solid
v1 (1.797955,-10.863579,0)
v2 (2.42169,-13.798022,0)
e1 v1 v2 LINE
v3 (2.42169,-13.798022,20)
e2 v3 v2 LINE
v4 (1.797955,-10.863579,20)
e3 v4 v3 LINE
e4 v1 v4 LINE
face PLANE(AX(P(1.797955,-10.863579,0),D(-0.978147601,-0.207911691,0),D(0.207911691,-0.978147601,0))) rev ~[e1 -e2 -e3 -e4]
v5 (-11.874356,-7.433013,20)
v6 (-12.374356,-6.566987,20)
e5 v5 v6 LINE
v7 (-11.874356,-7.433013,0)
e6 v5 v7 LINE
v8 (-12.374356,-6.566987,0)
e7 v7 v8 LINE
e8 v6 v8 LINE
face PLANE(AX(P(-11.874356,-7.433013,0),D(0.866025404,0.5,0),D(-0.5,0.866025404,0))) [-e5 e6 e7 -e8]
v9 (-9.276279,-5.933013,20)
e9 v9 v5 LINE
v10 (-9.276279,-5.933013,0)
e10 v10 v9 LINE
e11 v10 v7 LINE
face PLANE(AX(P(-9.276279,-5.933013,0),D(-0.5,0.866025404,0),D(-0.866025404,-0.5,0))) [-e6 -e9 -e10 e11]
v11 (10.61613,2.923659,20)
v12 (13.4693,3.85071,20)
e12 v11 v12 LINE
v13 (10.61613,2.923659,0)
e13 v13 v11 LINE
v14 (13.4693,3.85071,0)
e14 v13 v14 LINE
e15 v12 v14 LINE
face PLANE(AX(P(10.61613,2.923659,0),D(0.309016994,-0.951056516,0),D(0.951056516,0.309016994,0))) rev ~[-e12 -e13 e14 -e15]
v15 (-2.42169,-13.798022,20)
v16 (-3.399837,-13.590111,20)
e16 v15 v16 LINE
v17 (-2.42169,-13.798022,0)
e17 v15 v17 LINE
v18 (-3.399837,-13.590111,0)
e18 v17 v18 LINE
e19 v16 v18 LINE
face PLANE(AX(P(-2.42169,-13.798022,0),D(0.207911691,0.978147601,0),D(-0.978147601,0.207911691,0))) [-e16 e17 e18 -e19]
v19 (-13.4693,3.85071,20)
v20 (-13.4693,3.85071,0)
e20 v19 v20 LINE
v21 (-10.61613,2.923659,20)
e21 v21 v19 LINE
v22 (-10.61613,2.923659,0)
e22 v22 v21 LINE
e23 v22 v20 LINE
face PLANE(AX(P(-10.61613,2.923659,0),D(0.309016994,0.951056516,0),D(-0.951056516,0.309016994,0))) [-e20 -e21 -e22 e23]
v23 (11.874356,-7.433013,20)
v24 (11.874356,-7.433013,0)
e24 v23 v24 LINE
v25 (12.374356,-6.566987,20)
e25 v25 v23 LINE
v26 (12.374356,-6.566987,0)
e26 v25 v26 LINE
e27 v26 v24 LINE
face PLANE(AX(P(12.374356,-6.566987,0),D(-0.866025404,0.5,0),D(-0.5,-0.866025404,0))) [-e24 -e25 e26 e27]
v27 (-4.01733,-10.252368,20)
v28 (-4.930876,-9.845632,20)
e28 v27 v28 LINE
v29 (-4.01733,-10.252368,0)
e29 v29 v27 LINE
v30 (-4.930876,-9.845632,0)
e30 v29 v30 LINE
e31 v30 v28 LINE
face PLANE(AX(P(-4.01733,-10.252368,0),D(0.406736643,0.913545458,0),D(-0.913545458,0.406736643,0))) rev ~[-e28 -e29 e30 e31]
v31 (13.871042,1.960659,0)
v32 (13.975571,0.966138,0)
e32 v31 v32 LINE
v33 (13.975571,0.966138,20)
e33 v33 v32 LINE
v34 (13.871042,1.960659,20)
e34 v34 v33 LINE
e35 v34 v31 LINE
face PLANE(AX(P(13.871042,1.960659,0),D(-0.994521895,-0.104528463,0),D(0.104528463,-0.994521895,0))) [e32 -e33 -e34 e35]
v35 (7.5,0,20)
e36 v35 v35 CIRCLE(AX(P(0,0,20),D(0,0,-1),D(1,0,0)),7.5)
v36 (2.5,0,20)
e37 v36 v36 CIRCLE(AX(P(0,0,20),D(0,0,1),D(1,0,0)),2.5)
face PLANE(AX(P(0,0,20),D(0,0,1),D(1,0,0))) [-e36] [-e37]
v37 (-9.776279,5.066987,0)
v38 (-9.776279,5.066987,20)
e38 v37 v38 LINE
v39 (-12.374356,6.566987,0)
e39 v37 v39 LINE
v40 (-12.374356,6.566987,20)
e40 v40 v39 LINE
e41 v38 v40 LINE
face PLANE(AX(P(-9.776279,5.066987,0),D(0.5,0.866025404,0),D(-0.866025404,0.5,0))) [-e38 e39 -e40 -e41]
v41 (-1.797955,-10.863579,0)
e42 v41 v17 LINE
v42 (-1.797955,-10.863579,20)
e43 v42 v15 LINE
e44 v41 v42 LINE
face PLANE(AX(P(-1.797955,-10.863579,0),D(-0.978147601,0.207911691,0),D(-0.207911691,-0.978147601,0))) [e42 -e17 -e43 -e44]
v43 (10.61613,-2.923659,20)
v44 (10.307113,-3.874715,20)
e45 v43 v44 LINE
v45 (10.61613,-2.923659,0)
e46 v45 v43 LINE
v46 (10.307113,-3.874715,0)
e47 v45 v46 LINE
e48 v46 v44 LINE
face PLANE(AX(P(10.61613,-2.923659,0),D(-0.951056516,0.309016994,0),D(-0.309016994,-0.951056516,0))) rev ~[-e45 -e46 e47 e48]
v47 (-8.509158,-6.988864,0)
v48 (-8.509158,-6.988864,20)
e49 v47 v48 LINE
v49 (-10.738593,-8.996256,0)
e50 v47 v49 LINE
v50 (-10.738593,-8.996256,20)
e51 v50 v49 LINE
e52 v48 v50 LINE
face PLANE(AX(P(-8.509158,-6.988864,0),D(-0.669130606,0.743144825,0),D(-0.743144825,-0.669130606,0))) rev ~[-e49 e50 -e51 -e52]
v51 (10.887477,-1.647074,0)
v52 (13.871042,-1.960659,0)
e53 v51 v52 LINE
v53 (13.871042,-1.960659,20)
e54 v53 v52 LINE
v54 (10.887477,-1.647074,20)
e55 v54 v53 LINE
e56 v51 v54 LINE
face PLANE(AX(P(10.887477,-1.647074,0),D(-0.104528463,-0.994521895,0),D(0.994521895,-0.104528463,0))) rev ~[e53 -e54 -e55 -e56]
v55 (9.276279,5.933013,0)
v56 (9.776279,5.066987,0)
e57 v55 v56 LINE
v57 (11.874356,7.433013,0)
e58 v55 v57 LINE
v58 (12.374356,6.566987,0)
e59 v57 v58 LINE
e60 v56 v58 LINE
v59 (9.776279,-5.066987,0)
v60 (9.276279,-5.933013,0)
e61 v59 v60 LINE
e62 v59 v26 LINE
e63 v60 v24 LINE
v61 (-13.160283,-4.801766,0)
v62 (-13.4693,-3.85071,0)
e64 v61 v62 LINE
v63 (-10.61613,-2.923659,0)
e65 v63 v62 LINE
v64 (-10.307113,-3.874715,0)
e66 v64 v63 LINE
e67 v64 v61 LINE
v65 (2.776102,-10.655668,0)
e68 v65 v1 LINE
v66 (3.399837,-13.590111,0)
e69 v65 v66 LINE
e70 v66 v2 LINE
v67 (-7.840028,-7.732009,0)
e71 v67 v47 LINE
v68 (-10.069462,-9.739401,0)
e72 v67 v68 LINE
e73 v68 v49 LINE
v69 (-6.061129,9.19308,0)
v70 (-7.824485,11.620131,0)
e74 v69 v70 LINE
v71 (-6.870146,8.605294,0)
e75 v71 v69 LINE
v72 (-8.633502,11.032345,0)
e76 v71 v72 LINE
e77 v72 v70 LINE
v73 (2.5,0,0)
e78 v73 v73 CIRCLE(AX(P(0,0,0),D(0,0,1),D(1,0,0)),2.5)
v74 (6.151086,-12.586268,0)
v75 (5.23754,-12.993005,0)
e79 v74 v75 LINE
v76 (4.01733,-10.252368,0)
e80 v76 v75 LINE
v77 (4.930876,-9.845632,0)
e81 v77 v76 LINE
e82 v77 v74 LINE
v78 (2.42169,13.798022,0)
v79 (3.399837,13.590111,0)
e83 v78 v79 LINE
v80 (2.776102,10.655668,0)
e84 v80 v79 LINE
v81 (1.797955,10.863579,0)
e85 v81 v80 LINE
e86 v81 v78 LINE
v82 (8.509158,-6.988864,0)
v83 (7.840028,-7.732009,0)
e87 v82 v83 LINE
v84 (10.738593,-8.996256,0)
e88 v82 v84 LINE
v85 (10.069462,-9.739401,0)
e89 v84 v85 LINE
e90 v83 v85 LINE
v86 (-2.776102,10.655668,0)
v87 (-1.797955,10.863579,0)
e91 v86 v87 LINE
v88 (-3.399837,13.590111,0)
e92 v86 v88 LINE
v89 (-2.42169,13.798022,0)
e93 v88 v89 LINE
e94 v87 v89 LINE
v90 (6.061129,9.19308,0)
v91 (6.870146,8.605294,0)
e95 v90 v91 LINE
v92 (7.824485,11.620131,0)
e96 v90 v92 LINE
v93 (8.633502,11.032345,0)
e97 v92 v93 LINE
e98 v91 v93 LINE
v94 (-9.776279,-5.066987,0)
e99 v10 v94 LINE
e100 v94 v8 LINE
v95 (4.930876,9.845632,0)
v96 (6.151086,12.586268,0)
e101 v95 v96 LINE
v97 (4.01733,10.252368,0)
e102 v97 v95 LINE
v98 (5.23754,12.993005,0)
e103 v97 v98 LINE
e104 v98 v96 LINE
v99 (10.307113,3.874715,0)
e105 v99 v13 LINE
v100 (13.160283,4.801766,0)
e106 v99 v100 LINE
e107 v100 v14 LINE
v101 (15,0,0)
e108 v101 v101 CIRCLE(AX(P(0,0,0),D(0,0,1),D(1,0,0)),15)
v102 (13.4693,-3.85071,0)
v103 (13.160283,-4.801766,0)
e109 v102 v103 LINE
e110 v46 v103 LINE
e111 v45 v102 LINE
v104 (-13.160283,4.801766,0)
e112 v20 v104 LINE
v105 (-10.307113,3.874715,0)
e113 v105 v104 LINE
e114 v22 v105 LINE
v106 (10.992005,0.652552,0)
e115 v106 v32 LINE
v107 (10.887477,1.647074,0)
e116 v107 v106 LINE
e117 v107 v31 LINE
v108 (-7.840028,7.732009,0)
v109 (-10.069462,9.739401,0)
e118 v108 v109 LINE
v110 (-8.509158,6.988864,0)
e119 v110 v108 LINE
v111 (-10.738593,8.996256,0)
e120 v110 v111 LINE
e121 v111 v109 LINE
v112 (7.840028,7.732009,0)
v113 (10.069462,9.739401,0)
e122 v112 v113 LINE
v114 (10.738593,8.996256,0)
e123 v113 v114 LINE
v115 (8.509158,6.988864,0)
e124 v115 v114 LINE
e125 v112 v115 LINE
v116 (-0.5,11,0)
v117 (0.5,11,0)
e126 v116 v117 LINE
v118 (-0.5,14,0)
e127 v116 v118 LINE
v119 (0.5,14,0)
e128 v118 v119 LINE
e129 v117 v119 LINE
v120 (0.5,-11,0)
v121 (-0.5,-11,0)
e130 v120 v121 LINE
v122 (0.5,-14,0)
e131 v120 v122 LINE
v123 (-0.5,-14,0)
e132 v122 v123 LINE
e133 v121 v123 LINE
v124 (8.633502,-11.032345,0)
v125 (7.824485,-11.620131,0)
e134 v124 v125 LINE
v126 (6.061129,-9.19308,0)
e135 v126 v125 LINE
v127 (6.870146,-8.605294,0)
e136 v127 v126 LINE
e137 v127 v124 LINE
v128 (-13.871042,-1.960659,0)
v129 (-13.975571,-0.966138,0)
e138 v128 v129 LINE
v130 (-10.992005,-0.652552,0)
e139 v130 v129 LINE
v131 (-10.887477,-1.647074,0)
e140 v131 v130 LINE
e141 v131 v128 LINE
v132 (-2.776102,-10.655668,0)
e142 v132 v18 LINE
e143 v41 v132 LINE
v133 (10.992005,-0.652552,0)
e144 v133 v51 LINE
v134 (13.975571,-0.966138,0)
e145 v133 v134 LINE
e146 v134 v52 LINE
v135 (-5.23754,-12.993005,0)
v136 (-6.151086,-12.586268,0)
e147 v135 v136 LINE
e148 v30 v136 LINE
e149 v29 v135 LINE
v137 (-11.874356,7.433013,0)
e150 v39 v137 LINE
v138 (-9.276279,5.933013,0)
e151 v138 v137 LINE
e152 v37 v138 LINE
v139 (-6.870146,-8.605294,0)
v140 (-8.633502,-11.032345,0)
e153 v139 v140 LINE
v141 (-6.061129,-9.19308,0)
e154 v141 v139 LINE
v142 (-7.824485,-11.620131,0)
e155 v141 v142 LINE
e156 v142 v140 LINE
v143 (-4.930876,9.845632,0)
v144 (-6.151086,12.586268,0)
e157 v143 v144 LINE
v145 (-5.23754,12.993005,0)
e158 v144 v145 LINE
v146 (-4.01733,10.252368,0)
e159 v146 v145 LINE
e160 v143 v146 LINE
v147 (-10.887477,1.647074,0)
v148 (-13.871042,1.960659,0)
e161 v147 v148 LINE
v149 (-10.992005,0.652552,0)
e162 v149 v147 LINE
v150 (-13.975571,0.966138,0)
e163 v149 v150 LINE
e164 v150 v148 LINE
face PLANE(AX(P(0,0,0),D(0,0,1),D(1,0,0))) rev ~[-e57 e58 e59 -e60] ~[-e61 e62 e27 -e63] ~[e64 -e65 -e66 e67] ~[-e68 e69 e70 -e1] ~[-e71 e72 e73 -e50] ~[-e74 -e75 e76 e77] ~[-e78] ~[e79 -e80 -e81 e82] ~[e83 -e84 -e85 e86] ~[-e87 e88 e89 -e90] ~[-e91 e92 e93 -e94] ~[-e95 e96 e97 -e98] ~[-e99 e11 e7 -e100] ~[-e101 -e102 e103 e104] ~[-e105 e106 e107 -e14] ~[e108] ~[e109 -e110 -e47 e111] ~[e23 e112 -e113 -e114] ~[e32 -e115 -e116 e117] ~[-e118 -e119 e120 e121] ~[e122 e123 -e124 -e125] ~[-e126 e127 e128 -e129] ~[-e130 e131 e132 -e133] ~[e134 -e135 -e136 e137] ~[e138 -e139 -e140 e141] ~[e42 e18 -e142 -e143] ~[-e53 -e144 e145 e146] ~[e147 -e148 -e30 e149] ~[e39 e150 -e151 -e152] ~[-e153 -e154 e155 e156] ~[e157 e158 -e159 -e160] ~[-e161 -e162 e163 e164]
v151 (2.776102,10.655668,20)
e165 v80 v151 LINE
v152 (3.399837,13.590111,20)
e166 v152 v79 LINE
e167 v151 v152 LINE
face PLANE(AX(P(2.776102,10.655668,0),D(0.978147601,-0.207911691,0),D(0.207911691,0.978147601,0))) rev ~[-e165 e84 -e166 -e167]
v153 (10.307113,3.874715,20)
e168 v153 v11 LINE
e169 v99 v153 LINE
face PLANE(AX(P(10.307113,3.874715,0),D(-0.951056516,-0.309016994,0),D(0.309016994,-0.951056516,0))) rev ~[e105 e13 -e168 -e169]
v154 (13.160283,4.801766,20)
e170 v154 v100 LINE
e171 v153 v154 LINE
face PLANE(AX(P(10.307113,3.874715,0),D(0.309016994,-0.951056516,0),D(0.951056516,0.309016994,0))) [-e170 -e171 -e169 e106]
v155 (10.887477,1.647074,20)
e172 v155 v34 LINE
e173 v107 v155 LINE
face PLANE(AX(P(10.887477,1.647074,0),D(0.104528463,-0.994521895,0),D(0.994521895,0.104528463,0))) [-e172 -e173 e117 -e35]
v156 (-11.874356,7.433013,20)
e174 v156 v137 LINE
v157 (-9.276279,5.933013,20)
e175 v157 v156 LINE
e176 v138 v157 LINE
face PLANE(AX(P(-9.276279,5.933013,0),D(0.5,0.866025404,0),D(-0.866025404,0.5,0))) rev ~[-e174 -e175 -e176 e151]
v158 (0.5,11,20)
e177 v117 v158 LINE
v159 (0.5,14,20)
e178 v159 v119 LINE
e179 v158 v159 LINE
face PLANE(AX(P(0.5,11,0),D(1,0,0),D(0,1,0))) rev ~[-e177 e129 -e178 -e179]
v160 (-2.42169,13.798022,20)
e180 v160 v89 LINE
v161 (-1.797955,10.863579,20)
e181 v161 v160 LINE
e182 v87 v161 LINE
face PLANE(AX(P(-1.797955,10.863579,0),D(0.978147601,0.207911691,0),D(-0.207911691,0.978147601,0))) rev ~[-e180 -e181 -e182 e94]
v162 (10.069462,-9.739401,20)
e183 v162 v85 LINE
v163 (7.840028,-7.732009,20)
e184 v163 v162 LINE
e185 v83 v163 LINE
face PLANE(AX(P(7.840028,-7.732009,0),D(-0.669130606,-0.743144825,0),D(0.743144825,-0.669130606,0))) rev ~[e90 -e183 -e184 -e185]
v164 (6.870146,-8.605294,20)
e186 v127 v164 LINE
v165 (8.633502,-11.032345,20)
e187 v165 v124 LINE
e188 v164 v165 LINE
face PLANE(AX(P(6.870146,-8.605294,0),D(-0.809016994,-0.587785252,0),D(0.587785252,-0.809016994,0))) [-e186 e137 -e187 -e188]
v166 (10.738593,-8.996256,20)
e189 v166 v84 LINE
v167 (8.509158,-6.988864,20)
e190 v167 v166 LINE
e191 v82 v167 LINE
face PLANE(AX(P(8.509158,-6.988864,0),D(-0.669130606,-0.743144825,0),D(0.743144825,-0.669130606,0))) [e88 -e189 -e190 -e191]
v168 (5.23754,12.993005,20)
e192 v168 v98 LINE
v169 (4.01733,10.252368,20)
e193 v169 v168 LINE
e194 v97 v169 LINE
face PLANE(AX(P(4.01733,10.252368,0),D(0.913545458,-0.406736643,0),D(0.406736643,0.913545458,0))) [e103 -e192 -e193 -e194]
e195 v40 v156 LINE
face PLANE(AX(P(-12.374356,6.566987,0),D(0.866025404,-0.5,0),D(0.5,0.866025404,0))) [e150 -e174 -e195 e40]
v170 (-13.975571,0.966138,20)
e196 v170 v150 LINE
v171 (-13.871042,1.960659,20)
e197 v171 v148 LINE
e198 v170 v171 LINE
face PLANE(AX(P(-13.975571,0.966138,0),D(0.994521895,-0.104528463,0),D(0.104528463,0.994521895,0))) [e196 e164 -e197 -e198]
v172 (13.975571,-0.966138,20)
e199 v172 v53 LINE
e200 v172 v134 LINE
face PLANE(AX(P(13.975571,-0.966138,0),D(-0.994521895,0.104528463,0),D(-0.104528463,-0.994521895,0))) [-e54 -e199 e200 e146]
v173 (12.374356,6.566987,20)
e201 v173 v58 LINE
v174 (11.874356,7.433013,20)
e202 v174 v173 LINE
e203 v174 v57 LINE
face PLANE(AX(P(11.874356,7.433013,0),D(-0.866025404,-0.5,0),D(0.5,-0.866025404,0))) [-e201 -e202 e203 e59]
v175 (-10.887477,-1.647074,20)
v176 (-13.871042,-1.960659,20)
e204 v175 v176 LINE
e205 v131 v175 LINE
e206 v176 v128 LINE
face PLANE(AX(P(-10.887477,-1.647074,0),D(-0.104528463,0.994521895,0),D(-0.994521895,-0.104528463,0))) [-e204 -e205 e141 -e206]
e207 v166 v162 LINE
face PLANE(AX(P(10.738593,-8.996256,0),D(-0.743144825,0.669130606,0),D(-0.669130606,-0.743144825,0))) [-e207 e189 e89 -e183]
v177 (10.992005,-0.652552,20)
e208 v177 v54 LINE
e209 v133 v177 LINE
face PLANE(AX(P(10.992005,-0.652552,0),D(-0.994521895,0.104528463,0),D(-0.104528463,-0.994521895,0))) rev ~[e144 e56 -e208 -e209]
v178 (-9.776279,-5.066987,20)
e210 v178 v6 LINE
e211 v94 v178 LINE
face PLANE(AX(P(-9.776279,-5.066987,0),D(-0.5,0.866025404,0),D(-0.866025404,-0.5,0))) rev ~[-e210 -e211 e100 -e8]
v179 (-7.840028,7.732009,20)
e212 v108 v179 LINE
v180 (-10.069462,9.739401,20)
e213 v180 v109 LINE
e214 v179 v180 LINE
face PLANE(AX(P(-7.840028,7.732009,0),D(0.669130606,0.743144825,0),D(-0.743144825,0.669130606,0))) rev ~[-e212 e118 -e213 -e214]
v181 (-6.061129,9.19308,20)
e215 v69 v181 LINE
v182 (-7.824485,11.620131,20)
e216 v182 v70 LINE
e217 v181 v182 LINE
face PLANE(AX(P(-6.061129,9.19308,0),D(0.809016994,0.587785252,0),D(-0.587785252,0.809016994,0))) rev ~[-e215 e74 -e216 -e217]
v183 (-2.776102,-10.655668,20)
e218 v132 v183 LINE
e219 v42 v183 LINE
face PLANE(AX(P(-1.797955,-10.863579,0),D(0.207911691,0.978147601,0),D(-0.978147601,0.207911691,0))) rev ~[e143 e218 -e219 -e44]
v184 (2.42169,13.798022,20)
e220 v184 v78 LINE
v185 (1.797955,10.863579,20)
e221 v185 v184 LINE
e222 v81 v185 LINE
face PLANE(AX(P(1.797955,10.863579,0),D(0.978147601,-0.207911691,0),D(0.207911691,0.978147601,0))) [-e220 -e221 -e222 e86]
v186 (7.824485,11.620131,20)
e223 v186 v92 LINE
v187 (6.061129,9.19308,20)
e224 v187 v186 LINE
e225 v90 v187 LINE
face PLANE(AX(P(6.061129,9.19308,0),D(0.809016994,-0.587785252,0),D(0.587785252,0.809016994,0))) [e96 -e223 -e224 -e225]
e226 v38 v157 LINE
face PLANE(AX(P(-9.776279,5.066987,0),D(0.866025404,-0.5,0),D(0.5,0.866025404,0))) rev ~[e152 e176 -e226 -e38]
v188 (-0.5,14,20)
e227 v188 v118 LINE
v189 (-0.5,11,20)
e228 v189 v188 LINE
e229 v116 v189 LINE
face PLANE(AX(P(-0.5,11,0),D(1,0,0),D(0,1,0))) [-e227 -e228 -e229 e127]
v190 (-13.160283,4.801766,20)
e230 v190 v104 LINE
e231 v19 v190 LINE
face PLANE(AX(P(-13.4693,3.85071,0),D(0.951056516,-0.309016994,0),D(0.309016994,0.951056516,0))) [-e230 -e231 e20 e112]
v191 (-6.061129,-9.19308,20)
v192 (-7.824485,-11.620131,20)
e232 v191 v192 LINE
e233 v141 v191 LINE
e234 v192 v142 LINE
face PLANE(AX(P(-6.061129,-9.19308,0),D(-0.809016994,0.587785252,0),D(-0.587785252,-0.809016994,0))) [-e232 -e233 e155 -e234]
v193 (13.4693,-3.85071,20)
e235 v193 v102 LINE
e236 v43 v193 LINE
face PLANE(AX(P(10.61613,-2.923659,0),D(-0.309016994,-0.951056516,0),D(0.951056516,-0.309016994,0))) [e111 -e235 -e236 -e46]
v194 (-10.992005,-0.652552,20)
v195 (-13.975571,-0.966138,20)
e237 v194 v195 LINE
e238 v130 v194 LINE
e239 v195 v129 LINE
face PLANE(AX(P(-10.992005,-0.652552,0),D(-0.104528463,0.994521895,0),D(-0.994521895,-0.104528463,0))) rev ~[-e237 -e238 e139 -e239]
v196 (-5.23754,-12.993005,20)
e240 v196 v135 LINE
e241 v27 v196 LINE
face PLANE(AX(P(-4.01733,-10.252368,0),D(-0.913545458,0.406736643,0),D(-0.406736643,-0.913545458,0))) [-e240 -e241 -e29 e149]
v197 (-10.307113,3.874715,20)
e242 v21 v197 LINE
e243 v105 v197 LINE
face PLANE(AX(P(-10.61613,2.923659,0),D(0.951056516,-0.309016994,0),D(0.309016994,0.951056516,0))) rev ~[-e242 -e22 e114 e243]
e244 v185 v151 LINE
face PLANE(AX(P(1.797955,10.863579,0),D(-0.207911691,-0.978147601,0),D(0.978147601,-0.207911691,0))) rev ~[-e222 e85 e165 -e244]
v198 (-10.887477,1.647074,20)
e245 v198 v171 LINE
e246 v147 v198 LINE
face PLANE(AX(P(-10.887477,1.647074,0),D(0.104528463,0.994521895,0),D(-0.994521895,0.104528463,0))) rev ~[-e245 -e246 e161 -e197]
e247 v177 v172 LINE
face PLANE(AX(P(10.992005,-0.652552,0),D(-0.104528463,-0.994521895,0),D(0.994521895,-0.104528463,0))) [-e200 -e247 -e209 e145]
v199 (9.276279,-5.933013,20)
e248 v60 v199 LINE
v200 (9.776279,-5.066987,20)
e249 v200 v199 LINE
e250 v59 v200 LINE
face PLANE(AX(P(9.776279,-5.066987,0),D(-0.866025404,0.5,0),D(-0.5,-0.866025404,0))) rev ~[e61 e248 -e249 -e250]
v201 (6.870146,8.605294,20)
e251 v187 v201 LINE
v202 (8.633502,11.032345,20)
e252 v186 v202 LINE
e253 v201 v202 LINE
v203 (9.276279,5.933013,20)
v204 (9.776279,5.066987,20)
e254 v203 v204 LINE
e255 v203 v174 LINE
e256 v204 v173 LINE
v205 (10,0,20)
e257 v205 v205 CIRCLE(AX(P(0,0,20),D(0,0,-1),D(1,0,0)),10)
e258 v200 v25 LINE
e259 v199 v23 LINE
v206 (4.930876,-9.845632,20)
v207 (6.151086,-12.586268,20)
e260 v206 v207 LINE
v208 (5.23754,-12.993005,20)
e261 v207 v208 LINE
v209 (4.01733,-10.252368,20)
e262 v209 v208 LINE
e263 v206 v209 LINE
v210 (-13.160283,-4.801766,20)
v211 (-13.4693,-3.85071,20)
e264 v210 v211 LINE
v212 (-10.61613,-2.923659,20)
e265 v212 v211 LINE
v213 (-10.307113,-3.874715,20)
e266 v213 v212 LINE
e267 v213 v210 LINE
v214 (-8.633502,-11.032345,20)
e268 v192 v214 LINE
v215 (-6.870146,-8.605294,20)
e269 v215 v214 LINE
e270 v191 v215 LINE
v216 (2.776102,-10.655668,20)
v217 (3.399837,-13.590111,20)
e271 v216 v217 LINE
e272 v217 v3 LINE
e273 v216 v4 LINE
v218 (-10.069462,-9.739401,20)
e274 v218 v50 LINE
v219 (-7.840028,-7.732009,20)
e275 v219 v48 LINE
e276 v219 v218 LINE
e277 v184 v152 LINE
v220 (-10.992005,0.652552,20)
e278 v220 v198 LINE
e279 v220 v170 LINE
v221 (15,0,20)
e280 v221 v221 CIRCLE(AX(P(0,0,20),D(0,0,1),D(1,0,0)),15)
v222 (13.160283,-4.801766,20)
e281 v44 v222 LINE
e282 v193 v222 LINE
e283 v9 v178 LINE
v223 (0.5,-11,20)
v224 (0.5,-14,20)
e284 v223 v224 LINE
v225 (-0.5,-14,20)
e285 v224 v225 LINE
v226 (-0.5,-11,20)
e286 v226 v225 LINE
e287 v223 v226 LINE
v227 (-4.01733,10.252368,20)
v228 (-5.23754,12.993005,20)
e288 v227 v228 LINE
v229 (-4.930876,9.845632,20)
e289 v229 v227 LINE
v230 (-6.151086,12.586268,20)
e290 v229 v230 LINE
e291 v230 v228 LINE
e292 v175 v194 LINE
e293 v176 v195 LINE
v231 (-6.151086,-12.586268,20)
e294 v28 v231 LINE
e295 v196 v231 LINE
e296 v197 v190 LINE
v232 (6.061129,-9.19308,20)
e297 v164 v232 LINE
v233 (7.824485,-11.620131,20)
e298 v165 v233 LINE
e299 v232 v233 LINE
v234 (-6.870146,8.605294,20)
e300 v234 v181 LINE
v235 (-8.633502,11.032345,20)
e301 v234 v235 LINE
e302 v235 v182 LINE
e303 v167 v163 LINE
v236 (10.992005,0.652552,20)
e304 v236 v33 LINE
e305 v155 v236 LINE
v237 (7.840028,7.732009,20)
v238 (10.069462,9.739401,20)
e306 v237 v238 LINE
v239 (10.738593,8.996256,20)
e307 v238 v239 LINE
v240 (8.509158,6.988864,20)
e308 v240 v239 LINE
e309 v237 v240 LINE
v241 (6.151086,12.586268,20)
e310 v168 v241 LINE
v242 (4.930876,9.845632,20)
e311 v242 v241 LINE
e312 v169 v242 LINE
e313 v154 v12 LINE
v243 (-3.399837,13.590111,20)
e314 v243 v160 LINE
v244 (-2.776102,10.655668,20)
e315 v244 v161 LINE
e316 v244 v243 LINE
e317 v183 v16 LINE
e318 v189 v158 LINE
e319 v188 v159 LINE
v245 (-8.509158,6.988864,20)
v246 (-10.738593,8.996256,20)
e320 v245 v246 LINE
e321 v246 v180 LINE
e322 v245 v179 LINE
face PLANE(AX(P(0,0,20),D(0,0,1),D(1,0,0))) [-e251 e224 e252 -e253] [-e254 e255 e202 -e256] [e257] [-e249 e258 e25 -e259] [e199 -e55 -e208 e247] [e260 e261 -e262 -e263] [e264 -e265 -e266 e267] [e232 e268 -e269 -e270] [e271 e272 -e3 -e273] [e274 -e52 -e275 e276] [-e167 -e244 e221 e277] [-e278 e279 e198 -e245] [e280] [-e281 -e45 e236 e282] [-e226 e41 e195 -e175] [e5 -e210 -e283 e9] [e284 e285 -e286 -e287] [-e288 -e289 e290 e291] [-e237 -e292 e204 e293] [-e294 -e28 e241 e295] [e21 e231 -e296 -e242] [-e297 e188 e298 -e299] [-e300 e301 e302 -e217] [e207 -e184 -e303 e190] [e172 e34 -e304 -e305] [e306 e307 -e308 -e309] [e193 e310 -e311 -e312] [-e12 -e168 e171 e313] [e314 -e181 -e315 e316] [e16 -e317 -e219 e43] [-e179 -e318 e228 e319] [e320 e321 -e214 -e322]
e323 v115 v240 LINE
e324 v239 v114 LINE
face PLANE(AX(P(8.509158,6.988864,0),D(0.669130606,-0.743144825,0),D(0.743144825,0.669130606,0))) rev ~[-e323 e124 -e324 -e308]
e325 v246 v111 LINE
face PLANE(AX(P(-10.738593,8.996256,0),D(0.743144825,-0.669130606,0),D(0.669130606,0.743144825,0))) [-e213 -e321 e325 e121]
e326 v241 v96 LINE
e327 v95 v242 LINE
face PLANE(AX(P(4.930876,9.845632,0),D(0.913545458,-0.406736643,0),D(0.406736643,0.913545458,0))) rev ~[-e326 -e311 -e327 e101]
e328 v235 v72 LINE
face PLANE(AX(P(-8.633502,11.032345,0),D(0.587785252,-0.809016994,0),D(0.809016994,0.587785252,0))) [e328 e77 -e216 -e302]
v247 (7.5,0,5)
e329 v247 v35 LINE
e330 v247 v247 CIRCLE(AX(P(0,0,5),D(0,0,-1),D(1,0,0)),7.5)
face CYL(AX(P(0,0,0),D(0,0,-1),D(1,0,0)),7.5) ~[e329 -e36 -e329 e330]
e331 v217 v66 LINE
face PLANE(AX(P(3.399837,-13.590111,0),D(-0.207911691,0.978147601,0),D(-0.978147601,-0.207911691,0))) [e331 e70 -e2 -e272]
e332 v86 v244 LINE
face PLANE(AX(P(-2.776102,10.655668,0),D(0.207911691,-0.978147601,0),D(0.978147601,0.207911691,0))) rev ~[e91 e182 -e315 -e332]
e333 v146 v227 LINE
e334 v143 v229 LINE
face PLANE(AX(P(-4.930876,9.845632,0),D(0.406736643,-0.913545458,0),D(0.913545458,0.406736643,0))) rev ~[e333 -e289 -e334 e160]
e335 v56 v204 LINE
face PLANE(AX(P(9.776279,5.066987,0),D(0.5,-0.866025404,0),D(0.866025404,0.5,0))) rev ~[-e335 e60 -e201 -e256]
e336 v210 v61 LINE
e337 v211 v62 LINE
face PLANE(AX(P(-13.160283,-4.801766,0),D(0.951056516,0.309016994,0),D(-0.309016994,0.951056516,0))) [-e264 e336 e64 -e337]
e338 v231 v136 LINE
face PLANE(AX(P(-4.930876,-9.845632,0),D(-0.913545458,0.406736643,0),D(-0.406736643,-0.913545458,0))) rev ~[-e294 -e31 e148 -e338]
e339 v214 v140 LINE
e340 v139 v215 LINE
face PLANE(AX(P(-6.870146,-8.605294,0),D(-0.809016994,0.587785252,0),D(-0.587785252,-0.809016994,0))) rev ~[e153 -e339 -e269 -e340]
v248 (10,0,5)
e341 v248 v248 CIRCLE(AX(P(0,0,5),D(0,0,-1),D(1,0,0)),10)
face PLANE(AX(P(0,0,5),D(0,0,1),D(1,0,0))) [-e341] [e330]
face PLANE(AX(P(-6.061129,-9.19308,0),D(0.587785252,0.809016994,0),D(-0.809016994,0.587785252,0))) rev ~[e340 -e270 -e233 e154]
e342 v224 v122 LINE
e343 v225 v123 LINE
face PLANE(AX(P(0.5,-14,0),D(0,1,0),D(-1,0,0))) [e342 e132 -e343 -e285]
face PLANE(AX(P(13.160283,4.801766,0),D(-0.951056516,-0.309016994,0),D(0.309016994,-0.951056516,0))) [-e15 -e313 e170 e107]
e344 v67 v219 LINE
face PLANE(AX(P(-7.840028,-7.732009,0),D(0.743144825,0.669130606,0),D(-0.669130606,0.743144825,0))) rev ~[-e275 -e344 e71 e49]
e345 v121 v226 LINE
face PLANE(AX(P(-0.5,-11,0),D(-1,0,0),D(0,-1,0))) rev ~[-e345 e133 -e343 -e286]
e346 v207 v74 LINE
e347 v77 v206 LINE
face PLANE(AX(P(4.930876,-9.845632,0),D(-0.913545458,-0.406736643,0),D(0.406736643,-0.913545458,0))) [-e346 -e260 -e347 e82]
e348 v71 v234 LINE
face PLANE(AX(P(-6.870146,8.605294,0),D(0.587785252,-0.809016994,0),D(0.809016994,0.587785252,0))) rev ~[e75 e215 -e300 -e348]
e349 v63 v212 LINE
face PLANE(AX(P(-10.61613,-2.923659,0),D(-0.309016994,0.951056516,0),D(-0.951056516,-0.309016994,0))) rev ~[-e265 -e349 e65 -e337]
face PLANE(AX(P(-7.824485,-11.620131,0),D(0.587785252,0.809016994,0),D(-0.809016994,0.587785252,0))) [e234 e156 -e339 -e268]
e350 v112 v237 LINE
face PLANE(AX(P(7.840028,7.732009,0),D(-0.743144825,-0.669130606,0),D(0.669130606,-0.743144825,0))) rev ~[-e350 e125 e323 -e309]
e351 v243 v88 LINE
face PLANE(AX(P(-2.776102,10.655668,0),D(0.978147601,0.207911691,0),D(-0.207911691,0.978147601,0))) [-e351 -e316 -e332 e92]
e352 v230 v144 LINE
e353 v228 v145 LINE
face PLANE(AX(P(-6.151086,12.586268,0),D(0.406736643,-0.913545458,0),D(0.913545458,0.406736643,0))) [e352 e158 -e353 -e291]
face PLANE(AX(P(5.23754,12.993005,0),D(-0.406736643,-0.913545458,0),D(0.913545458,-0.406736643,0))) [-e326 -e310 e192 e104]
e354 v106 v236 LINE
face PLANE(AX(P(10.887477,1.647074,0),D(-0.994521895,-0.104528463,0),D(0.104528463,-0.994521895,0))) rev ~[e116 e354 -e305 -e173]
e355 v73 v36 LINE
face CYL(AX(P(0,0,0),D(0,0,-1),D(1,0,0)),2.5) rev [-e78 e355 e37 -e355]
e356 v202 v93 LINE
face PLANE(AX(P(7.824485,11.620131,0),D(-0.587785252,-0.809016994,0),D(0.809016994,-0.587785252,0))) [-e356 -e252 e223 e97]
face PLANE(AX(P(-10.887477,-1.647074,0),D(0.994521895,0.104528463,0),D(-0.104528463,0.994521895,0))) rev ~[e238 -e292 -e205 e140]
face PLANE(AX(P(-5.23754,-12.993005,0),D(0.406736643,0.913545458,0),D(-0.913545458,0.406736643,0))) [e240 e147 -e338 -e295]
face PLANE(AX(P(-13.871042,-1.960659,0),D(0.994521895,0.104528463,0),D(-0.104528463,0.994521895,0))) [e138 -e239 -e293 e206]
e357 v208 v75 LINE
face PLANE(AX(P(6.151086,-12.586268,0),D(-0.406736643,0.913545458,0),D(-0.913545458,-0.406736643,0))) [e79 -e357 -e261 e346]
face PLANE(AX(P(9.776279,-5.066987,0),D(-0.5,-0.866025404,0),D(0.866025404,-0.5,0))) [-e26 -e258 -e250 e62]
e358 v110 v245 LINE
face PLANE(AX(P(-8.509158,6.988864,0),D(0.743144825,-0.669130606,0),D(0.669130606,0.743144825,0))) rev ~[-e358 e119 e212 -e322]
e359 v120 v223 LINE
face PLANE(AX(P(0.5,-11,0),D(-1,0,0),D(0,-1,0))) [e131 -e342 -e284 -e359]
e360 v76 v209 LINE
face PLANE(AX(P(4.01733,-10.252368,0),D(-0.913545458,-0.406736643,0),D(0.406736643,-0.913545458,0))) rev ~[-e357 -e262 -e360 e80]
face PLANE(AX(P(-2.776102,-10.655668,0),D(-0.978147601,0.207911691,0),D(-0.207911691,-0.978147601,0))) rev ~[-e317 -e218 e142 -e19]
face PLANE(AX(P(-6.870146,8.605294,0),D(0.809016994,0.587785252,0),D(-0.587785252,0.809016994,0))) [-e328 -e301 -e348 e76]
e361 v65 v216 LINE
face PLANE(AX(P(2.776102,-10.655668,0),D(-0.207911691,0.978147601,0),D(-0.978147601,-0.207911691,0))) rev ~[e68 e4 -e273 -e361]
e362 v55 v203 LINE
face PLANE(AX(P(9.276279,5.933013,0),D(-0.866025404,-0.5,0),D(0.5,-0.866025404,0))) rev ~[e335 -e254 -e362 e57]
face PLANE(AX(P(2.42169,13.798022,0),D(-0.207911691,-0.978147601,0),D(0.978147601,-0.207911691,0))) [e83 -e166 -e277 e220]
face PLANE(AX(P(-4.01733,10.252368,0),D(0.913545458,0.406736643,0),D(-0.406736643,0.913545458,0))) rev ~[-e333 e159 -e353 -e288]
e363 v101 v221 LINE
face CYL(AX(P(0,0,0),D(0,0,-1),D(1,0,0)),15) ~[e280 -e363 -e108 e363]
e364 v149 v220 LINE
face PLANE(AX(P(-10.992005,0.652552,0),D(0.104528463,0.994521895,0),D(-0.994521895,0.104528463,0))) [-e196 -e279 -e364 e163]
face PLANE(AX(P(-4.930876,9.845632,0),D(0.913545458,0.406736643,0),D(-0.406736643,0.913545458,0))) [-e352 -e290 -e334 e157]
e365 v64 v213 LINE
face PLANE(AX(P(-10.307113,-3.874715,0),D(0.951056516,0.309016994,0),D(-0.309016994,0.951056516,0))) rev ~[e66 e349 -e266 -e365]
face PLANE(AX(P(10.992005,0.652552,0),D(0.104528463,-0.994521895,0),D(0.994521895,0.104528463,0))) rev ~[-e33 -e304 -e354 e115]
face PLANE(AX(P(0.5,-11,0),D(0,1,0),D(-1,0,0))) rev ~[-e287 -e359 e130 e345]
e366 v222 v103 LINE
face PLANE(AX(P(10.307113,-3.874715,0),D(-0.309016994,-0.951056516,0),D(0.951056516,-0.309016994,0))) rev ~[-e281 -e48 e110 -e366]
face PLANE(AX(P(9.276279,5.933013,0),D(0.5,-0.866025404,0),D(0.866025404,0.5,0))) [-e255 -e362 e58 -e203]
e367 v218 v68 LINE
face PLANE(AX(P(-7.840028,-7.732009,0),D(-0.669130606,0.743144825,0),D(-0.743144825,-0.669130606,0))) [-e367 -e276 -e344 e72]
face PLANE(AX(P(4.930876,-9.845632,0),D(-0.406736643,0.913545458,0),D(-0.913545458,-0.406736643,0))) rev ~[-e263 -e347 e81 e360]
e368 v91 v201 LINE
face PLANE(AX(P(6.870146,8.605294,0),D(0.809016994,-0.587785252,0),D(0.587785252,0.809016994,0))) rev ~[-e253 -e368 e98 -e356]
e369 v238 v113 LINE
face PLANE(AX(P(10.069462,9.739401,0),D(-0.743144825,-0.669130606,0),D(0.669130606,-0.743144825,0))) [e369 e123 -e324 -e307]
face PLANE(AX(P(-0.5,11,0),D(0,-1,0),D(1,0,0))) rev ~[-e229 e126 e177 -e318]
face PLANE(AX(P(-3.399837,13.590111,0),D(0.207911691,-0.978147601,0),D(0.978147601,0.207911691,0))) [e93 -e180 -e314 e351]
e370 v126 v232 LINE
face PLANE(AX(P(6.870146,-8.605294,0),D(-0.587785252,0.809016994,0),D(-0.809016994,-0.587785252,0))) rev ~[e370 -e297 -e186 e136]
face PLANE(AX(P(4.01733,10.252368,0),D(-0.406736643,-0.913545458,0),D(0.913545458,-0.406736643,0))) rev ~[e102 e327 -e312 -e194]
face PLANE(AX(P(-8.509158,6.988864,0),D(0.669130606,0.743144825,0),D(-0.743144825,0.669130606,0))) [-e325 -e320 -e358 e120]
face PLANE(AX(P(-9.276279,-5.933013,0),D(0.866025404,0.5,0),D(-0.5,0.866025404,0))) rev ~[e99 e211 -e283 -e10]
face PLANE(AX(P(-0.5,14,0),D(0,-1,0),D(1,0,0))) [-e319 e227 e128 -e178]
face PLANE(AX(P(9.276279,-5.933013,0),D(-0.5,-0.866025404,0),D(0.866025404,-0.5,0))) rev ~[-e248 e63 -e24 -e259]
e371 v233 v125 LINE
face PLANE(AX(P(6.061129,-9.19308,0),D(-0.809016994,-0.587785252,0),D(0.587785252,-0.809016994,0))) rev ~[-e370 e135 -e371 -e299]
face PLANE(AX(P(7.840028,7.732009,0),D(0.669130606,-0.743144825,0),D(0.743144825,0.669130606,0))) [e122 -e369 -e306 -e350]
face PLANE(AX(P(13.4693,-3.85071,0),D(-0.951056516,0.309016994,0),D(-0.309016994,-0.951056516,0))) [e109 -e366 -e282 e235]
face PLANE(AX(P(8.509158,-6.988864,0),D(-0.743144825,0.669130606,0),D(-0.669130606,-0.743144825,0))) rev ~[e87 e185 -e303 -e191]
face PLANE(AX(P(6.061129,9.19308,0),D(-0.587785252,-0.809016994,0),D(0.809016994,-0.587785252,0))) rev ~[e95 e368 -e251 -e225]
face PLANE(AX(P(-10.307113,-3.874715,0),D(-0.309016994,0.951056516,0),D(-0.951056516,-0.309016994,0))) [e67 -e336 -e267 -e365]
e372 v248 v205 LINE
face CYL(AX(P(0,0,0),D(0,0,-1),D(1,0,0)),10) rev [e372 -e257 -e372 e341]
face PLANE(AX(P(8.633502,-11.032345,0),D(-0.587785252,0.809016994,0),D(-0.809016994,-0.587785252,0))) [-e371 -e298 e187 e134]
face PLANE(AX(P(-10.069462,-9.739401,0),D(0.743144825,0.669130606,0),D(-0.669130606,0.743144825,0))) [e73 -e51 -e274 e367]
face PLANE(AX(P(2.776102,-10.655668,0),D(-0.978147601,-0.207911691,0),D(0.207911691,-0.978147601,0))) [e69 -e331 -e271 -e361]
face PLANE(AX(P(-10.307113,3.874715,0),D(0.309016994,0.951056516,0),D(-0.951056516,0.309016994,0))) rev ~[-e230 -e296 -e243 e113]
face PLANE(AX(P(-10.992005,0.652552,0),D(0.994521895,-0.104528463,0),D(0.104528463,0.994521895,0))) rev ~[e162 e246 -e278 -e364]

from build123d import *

# Parameters (mm, degrees)
SKETCH1_R               = 15
SKETCH1_R_2             = 2.5
BOSS_EXTRUDE1_DEPTH     = 20
SHELL1_T                = -5
SKETCH2_W               = 1
SKETCH2_H               = 3
CUT_EXTRUDE_THIN1_DEPTH = 30.154759474
CIRPATTERN1_COUNT       = 30


with BuildPart() as part:
    # Sketch1 → Boss-Extrude1 (new body)
    with BuildSketch(Plane.XY):
        Circle(SKETCH1_R)
        Circle(SKETCH1_R_2, mode=Mode.SUBTRACT)
    extrude(amount=BOSS_EXTRUDE1_DEPTH)

    # Shell1
    shell1_openings = [part.faces().sort_by_distance(p)[0] for p in [
        (-14.575735931, 0, 20),
    ]]
    offset(amount=SHELL1_T, openings=shell1_openings, kind=Kind.INTERSECTION)

    # Sketch2 → Cut-Extrude-Thin1 (cut, symmetric)
    with BuildSketch(Plane.XY):
        with Locations((0, 12.5)):
            Rectangle(SKETCH2_W, SKETCH2_H)
    cut_extrude_thin1 = extrude(amount=CUT_EXTRUDE_THIN1_DEPTH, both=True, mode=Mode.SUBTRACT)

    # CirPattern1: Cut-Extrude-Thin1 ×30 about axis
    cirpattern1_axis = Axis((0, 0, 0), (0, 0, 1))
    for i in range(1, CIRPATTERN1_COUNT):
        add(cut_extrude_thin1.rotate(cirpattern1_axis, i * 360 / CIRPATTERN1_COUNT), mode=Mode.SUBTRACT)


solid = part.part
